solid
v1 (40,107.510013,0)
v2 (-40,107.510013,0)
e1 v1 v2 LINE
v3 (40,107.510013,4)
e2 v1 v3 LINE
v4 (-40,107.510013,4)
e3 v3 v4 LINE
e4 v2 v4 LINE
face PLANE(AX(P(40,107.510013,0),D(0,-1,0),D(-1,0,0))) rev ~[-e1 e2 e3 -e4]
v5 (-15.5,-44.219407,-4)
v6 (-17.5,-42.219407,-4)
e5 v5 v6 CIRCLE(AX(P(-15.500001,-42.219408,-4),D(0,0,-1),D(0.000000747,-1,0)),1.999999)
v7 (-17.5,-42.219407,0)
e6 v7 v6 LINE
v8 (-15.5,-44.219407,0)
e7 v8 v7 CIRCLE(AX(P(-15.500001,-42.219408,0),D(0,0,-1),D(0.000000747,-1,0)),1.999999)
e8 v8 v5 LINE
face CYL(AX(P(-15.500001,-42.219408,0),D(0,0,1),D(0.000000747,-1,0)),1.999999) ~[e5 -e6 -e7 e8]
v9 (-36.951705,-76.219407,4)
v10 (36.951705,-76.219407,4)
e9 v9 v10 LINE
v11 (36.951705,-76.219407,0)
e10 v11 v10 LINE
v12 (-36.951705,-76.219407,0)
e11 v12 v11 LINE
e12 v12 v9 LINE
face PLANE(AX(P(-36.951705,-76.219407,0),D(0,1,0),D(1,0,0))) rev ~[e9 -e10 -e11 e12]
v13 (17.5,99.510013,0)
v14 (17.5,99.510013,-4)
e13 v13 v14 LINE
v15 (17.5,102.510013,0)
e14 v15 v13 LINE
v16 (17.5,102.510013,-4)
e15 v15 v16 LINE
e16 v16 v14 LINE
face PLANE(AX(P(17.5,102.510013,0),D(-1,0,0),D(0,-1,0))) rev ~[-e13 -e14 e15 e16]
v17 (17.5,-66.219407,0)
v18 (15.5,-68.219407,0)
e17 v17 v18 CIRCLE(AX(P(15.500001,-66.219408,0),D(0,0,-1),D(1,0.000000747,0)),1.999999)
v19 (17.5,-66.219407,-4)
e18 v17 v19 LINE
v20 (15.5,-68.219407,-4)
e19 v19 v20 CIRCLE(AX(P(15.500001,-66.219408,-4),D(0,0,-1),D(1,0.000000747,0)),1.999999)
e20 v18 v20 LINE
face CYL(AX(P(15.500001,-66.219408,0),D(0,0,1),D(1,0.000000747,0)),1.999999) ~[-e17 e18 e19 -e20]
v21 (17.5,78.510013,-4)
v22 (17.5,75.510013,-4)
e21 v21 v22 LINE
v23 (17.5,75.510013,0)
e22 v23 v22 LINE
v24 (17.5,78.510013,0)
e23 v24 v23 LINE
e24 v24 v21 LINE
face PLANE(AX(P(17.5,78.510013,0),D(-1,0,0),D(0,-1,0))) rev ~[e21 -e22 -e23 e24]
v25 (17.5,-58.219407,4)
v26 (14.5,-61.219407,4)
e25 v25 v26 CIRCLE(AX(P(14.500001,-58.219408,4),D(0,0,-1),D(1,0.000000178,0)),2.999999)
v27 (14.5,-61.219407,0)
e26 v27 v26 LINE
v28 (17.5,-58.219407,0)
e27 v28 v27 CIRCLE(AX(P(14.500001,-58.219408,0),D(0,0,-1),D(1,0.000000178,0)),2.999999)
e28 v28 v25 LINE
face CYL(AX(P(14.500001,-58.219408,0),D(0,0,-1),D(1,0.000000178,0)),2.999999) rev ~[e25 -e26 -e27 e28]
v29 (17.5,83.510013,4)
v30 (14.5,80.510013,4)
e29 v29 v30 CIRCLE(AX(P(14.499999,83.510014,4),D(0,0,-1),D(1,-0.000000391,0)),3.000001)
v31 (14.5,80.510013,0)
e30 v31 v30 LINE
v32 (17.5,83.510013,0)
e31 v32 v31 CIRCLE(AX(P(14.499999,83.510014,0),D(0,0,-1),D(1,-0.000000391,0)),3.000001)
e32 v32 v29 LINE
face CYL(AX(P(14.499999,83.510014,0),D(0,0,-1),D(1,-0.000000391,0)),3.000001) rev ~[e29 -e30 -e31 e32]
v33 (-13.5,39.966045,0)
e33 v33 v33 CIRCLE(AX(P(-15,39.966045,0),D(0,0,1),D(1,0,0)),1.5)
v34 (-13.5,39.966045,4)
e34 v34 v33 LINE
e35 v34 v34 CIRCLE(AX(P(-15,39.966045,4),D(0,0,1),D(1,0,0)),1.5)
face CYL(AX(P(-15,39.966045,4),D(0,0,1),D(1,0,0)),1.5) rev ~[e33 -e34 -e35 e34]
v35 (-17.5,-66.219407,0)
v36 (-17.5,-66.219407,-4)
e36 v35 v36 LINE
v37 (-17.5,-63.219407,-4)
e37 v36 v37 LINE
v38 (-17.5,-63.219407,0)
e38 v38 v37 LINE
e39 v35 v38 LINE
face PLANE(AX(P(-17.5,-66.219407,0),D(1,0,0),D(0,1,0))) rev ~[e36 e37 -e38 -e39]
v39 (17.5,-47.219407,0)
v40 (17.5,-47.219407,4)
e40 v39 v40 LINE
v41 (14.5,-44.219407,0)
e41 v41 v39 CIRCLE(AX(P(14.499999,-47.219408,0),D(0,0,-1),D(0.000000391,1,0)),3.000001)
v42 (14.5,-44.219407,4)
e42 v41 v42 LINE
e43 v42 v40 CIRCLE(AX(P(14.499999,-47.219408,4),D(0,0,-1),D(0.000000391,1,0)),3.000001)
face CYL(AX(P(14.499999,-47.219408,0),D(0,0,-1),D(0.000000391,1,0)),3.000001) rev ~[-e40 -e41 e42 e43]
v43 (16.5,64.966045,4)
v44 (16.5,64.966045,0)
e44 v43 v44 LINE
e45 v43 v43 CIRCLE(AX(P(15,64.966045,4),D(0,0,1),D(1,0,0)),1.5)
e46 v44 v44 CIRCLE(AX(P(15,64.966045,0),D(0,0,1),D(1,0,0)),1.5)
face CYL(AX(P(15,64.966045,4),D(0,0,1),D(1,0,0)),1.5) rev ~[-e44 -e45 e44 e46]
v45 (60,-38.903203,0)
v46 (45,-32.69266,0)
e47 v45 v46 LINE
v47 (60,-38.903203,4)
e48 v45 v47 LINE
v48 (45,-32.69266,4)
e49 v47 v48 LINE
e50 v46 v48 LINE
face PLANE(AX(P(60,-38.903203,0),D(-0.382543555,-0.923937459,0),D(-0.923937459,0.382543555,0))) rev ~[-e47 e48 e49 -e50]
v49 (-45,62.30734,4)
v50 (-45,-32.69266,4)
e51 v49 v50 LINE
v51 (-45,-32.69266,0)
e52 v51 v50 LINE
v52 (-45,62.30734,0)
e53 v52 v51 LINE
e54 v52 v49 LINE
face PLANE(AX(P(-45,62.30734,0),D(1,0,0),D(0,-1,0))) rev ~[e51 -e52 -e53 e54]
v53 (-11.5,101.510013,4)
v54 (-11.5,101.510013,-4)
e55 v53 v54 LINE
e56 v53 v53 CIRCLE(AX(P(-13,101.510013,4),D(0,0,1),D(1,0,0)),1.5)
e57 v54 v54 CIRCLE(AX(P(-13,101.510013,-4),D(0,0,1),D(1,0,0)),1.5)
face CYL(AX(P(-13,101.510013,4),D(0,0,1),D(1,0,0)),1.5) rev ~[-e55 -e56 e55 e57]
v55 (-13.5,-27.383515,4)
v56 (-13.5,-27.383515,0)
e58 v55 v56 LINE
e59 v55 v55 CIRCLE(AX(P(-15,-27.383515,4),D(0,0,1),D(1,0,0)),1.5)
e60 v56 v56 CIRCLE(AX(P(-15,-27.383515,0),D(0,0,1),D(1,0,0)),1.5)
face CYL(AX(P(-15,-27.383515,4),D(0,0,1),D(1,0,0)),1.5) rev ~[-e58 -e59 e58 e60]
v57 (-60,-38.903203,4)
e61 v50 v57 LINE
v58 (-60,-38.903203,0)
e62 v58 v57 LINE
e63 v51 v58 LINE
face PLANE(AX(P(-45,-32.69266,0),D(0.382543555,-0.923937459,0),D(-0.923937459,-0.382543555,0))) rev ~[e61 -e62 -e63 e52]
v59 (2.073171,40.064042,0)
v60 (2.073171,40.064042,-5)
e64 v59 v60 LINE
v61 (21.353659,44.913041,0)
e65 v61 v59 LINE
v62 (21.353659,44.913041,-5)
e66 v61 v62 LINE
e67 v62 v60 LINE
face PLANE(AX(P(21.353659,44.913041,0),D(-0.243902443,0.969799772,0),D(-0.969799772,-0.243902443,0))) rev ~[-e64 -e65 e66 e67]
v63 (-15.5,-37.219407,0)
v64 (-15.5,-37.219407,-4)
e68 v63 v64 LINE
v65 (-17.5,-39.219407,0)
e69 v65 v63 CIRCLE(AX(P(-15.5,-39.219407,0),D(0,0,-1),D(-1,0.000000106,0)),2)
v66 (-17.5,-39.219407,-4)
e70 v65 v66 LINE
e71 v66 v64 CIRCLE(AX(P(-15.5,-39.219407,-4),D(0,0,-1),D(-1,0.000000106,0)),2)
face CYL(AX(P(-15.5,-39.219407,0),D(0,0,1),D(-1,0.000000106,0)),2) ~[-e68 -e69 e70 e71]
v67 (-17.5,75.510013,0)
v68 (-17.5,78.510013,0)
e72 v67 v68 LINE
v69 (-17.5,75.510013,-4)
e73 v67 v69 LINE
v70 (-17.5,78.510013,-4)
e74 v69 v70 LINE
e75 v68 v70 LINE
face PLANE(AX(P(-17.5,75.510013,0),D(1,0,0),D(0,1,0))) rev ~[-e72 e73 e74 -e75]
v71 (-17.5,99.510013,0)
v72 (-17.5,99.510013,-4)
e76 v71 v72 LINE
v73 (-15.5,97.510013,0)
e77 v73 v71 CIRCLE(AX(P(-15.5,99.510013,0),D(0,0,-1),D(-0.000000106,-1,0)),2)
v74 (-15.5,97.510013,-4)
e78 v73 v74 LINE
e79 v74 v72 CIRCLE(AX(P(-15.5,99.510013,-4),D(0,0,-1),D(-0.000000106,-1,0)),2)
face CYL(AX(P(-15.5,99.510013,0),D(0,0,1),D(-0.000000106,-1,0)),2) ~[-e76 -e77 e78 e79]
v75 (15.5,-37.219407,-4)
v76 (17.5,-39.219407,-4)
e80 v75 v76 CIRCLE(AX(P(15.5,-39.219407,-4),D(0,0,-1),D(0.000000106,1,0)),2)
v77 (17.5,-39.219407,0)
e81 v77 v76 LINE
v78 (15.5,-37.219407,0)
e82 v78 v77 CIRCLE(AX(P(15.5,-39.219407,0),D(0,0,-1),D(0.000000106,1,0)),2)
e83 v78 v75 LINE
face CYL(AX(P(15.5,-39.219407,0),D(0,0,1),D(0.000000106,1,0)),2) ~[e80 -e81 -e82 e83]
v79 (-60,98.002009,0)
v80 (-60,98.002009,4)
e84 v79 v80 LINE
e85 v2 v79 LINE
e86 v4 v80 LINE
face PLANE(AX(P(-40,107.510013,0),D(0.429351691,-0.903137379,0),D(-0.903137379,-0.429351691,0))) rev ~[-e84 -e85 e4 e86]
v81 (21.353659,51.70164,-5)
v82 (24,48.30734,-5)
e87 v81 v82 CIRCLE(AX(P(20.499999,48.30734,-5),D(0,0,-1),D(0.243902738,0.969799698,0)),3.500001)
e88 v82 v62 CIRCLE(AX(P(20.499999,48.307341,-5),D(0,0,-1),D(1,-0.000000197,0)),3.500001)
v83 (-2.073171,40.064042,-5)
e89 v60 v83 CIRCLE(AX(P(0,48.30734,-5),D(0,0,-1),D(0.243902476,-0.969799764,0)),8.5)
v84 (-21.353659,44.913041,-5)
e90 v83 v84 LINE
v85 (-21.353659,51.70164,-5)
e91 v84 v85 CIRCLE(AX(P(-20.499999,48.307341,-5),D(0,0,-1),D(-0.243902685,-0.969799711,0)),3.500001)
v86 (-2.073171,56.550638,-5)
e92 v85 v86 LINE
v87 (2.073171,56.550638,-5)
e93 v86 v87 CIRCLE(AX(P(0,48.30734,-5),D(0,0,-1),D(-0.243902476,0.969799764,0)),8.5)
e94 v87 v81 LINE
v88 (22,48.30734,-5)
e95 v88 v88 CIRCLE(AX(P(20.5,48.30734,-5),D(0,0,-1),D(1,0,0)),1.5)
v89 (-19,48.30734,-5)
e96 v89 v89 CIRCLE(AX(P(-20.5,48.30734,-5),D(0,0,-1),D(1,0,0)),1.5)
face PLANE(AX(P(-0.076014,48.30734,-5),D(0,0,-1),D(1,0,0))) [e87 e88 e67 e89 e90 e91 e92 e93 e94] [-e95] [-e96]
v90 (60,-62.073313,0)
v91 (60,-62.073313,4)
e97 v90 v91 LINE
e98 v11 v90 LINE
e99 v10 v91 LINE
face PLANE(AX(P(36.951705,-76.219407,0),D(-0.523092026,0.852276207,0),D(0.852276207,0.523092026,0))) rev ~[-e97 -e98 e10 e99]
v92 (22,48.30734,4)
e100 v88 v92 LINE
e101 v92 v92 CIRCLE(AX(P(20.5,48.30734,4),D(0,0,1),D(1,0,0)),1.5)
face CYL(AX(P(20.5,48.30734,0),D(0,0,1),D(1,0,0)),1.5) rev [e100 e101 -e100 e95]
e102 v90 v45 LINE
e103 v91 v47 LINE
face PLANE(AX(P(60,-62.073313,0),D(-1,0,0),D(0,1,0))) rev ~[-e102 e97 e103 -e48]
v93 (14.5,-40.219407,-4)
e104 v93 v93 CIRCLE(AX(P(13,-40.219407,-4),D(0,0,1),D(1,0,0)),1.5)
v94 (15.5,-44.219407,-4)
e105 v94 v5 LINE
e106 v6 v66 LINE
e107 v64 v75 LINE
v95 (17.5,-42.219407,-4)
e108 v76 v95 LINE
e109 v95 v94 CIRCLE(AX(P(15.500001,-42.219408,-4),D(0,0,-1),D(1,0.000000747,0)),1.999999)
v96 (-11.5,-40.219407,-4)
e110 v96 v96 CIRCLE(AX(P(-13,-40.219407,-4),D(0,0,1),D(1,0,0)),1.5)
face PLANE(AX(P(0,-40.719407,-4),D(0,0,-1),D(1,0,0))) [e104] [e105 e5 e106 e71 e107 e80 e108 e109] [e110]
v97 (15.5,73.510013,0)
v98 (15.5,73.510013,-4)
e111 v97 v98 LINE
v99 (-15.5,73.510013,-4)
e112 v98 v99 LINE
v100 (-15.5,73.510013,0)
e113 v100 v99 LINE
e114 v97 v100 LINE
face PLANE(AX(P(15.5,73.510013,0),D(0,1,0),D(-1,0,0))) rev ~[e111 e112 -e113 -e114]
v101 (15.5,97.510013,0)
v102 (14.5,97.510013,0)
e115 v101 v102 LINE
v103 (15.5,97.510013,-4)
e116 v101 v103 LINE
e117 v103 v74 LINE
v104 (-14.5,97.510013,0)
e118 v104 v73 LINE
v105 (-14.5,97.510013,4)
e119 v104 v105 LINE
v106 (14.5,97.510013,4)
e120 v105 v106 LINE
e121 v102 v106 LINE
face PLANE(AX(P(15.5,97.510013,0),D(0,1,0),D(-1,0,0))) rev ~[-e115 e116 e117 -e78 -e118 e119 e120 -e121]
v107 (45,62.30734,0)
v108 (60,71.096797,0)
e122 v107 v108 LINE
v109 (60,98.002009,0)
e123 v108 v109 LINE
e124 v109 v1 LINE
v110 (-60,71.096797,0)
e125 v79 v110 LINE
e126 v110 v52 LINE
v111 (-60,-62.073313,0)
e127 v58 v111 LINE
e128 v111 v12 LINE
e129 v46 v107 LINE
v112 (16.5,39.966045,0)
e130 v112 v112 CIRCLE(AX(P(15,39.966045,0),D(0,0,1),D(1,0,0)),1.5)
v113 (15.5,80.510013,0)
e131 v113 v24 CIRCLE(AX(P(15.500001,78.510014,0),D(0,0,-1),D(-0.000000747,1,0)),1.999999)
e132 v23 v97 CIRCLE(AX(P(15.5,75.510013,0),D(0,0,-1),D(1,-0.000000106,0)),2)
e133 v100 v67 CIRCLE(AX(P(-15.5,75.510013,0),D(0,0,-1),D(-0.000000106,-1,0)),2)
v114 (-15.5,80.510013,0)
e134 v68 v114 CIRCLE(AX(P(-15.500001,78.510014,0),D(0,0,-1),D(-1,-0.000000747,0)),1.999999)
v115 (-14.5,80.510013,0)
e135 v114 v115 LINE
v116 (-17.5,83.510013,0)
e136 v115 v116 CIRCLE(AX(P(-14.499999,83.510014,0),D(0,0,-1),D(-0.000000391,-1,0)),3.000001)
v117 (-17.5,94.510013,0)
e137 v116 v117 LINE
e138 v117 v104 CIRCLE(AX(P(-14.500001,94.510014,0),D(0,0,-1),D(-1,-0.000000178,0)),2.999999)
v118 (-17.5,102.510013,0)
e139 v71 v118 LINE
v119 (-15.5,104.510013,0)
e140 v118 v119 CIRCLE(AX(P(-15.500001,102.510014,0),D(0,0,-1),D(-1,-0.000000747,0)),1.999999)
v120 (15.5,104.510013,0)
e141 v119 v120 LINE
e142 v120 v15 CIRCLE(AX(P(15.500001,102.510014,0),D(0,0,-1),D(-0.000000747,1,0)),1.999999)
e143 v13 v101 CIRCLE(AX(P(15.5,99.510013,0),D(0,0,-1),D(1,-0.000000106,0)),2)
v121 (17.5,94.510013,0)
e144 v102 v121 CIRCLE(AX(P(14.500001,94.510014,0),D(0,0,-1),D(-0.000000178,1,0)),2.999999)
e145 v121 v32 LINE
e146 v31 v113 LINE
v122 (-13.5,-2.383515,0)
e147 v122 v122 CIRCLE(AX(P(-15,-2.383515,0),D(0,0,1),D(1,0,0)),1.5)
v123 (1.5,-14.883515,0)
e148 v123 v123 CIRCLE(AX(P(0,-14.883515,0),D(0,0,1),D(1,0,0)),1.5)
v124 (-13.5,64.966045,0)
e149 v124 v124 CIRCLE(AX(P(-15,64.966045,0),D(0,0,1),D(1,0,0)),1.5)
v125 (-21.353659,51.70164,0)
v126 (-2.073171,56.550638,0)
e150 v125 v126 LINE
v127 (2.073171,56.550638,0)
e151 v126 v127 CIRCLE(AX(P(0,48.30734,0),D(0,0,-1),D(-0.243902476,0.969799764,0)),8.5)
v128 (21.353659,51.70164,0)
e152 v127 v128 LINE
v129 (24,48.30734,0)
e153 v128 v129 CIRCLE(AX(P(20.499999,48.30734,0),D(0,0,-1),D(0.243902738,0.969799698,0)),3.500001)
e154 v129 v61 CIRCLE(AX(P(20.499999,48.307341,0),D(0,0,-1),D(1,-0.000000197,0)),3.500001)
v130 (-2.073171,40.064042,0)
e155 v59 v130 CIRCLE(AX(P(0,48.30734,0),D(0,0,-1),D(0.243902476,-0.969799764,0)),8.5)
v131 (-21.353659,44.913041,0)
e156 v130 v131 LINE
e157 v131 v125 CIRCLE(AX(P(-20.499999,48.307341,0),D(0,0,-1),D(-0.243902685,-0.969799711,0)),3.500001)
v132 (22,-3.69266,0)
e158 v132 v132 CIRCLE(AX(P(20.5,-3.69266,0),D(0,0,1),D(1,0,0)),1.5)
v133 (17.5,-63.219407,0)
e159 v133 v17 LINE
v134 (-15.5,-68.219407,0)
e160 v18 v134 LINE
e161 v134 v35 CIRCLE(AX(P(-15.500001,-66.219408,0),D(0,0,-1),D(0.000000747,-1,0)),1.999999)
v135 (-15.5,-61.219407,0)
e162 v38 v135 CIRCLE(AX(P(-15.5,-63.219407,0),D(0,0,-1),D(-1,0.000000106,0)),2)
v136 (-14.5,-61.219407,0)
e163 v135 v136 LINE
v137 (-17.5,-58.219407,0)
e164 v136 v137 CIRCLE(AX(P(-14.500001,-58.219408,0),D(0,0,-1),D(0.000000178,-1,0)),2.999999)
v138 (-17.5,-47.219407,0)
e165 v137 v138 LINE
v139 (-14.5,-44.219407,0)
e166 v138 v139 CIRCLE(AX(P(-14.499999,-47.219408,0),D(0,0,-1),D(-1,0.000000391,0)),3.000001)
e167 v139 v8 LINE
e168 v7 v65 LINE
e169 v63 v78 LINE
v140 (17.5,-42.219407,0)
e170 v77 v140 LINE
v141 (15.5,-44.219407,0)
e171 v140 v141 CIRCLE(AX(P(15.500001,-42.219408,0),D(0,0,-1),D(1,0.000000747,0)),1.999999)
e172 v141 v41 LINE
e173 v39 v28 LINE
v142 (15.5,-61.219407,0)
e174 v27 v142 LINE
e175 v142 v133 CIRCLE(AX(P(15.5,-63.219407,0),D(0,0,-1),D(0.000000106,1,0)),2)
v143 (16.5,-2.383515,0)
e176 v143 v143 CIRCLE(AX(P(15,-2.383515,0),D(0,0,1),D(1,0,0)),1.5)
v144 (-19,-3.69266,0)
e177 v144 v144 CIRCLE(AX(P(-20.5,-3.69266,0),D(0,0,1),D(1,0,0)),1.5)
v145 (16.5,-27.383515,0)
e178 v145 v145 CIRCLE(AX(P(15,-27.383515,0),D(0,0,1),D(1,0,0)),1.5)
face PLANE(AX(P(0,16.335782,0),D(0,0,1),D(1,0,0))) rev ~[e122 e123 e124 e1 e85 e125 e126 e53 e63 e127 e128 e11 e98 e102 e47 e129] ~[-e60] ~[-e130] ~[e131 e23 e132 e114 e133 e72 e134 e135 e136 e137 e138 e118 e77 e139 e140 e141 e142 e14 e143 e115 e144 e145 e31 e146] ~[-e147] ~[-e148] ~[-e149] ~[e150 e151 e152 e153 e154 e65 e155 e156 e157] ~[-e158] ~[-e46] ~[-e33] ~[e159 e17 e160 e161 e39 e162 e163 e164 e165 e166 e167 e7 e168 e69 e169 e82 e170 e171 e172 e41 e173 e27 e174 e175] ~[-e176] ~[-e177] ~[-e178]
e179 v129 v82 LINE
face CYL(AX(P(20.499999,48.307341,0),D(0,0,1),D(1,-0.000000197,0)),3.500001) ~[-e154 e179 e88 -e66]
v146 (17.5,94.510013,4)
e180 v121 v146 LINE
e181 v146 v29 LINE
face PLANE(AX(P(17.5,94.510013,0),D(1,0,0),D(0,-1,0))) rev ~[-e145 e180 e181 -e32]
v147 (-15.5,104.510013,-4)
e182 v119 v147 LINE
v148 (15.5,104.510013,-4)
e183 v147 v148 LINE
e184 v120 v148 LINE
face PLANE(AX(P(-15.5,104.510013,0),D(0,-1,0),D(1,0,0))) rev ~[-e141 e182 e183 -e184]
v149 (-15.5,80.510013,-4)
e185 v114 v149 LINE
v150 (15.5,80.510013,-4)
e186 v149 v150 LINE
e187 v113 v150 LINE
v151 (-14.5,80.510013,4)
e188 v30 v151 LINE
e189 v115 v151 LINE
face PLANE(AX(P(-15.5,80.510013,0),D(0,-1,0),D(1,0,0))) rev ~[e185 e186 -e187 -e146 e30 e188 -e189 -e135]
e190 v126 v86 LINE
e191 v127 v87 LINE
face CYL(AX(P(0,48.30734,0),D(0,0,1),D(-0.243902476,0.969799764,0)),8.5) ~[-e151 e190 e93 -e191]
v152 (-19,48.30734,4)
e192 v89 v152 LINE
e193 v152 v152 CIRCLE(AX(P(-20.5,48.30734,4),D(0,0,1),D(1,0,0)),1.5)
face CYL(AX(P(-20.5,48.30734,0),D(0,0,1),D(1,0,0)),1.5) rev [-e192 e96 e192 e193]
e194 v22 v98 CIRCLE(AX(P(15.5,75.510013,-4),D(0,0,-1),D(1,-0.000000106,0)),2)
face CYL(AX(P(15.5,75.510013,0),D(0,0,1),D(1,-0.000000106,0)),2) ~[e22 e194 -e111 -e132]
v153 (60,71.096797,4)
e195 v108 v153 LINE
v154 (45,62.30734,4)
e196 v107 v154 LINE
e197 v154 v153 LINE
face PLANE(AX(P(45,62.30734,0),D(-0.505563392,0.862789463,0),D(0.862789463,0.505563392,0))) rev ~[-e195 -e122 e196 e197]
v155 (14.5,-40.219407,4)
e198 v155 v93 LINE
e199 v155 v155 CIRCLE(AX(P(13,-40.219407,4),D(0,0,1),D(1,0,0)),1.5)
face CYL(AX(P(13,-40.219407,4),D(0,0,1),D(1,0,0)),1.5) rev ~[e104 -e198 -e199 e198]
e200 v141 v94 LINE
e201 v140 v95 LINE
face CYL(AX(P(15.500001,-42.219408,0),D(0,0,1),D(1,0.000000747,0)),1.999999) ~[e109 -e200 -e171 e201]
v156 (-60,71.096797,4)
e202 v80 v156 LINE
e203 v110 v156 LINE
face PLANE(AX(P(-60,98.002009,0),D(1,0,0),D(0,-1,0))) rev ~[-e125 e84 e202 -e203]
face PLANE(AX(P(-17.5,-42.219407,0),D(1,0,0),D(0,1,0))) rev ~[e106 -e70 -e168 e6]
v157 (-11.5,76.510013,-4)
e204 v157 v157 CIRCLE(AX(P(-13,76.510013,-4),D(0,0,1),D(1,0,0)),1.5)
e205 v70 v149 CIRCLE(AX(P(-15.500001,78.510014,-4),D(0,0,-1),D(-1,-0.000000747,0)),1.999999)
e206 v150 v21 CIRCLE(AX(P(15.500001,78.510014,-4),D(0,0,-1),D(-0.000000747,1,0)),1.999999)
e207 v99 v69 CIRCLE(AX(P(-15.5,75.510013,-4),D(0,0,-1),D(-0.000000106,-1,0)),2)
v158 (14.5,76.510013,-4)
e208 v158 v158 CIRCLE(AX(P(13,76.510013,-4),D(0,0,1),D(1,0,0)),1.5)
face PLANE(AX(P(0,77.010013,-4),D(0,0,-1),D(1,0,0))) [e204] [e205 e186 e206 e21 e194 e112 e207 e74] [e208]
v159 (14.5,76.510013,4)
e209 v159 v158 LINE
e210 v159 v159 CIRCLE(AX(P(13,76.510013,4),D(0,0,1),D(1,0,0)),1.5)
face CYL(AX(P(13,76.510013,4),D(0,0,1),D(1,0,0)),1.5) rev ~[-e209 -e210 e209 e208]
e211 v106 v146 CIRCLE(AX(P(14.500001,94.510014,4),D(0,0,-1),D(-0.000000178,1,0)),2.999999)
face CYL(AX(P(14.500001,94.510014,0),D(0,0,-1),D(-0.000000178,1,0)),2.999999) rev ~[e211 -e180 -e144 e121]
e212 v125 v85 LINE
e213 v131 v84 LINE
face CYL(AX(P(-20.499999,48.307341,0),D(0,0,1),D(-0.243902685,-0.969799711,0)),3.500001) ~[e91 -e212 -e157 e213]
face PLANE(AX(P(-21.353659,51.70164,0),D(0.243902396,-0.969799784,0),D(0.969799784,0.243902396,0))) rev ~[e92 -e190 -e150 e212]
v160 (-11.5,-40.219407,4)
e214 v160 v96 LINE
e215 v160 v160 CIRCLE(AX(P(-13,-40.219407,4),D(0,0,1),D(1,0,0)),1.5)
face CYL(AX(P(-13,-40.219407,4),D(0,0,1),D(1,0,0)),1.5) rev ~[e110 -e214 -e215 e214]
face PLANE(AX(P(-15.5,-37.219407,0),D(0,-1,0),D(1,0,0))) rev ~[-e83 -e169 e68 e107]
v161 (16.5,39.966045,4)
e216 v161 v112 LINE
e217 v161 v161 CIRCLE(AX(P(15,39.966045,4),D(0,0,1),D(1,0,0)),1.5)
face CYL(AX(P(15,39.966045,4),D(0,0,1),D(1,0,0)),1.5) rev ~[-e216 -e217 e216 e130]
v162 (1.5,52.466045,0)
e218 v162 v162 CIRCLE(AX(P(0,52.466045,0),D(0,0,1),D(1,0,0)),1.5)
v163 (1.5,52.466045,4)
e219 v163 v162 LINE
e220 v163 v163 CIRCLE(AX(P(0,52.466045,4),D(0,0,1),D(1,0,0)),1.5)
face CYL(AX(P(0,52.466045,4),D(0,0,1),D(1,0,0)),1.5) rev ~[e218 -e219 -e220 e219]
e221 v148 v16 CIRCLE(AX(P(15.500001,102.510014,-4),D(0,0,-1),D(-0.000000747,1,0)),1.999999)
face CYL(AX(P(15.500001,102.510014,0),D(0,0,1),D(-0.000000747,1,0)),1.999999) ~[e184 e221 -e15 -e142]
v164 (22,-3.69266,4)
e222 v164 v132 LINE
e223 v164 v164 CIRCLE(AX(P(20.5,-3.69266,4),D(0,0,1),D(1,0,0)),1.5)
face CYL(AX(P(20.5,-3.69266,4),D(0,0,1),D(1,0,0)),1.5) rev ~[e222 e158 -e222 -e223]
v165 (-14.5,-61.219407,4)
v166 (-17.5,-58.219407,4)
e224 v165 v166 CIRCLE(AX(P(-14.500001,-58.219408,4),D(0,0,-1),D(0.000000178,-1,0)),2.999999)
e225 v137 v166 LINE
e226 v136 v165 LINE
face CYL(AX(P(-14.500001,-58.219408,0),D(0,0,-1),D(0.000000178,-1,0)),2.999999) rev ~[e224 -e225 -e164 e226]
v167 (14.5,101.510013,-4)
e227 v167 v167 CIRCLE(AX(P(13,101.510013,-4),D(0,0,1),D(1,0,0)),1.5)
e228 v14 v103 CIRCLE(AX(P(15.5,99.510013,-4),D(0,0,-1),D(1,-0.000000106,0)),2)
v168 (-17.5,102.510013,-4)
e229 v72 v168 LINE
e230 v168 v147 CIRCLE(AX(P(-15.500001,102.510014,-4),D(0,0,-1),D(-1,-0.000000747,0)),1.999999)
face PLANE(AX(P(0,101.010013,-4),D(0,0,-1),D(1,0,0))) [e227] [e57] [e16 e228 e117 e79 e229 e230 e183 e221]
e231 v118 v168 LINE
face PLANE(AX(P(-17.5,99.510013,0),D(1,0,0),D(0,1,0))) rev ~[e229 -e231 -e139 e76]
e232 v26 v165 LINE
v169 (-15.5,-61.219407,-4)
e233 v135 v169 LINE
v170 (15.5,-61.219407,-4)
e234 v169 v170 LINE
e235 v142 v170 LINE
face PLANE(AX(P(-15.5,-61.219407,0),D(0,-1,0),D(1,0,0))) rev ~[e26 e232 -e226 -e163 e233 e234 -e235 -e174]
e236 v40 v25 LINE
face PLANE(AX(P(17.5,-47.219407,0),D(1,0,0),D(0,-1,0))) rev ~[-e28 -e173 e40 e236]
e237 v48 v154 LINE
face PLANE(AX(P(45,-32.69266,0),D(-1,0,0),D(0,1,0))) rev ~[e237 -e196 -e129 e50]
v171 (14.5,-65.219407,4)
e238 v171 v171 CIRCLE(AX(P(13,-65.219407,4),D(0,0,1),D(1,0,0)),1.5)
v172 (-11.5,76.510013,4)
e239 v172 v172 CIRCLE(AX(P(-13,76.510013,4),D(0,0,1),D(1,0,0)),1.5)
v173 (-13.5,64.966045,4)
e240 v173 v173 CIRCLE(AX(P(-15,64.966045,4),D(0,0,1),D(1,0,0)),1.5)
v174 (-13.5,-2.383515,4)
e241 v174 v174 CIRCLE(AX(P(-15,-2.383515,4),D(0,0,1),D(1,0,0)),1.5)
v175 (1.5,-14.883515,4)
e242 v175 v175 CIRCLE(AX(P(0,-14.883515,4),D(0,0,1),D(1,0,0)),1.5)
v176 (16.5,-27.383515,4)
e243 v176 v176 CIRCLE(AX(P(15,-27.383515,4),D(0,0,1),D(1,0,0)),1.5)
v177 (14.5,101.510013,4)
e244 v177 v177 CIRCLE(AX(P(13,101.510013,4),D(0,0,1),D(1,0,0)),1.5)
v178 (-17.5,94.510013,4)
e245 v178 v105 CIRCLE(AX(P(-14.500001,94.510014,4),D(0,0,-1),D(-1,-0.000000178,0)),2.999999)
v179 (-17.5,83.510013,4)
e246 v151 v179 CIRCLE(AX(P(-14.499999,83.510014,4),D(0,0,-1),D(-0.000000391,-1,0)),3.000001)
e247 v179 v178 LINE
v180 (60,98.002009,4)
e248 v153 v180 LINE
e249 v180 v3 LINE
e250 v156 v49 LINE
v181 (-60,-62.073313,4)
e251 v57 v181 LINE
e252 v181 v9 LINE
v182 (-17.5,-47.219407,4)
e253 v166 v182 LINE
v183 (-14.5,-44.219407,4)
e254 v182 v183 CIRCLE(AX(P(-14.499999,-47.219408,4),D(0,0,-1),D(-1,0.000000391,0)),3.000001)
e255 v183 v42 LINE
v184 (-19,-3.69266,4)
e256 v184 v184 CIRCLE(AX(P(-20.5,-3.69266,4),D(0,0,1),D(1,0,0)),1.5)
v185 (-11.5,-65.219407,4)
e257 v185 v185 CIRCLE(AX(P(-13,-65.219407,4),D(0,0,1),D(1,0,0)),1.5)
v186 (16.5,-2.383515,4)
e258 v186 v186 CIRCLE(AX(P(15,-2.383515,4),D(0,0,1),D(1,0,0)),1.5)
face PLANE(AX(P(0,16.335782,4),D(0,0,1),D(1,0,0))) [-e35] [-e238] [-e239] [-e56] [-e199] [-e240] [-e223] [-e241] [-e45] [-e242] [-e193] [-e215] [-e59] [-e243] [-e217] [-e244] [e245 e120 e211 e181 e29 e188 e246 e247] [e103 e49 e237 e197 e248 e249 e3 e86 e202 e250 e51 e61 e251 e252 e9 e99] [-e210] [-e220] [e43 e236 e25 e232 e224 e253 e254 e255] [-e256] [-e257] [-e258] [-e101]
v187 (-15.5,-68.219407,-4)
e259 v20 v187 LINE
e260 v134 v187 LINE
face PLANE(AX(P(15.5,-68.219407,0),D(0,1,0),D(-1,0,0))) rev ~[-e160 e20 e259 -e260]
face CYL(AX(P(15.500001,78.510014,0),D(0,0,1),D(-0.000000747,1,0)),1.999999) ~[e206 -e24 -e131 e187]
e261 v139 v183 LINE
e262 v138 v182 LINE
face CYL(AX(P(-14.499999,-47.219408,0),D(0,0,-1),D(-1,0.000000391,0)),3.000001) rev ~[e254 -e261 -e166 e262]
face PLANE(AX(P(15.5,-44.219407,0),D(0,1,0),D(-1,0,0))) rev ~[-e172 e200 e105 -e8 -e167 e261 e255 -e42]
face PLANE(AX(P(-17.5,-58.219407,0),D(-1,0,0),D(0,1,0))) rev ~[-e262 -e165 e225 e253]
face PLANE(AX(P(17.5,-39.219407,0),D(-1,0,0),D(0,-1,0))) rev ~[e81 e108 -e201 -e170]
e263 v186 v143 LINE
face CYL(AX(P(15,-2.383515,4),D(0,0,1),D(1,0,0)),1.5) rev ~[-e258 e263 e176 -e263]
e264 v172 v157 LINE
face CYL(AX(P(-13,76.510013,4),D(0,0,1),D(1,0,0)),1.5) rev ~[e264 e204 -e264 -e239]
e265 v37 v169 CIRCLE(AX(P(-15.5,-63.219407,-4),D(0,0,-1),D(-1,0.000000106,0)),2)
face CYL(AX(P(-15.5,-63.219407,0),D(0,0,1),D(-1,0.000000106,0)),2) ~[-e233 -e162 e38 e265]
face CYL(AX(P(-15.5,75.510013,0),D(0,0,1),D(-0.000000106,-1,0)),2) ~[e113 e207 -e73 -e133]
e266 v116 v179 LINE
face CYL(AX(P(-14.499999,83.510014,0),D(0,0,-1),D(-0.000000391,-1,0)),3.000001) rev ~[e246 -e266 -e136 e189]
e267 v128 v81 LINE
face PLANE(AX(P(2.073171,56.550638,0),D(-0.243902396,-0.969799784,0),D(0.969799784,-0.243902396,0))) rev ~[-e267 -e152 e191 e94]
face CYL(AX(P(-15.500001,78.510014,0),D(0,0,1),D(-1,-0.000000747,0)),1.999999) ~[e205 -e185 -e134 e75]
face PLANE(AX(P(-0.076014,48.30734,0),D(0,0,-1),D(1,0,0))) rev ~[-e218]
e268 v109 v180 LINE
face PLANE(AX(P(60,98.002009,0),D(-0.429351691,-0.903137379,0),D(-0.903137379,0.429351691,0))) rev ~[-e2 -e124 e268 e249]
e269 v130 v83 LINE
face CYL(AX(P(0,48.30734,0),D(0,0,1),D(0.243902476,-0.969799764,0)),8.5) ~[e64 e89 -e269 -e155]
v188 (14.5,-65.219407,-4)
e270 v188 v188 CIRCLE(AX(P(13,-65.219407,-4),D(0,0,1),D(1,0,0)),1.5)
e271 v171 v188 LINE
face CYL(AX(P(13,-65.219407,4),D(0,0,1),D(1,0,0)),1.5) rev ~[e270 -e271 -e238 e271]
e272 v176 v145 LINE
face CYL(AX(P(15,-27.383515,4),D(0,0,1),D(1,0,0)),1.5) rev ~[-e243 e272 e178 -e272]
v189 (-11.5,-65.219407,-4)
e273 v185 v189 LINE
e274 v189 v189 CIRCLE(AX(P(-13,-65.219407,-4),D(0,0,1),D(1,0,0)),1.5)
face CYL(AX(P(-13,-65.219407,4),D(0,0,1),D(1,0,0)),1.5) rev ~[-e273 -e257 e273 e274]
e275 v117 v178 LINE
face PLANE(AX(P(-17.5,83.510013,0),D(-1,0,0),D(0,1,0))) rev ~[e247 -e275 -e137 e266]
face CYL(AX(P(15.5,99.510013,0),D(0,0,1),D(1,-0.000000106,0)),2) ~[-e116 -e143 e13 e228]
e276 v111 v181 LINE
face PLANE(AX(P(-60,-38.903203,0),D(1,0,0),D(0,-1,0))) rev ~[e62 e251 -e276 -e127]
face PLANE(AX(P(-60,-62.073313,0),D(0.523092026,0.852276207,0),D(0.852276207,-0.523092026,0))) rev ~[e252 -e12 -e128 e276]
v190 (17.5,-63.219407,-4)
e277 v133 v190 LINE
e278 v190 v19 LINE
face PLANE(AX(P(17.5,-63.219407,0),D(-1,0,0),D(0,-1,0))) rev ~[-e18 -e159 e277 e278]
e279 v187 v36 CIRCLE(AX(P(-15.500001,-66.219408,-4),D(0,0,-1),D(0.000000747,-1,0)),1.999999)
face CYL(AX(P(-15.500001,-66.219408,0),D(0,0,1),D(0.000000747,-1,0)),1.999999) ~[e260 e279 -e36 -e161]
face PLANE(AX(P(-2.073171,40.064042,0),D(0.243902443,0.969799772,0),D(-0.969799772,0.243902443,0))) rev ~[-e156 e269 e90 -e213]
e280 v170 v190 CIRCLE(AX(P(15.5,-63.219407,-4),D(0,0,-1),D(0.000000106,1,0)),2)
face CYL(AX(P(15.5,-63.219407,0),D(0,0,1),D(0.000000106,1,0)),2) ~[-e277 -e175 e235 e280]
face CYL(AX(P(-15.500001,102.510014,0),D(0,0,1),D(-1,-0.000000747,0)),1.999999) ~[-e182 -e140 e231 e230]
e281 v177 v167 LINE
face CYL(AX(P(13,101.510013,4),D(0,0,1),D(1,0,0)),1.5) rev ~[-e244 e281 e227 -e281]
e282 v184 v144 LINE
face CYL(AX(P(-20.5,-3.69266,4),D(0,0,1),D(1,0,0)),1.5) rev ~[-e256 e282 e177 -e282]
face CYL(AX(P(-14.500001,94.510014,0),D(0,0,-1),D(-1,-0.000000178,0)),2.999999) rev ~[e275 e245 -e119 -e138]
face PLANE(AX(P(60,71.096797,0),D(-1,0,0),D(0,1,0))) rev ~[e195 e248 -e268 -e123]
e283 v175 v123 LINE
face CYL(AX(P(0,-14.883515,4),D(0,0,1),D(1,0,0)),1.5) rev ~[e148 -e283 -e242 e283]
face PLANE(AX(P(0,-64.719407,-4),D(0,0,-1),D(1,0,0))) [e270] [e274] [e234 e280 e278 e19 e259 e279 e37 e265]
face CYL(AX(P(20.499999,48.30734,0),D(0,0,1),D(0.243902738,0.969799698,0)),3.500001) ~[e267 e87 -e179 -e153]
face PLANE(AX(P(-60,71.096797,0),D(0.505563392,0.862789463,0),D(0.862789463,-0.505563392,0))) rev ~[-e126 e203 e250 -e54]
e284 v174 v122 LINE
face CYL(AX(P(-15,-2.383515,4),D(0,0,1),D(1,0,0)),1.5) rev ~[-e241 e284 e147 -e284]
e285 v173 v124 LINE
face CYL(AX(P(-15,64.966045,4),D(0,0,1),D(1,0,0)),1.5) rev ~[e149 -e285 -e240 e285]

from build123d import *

# Parameters (mm, degrees)
F1_DEPTH  = 4
F3_DEPTH  = 4
F4_R      = 1.5
F5_DEPTH  = 25
F6_R      = 1.5
F7_DEPTH  = 25
F8_R      = 1.5
F9_DEPTH  = 25
F10_R     = 1.5
F11_DEPTH = 5


with BuildPart() as f1:
    # F0 (on Top) → F1 (new body)
    with BuildSketch(Plane.XY):
        Polygon((40, 107.510013), (0, 107.510013), (-40, 107.510013), (-60, 98.002009), (-60, 71.096797), (-45, 62.30734), (-45, -32.69266), (-60, -38.903203), (-60, -62.073313), (-36.951705, -76.219407), (0, -76.219407), (36.951705, -76.219407), (60, -62.073313), (60, -38.903203), (45, -32.69266), (45, 62.30734), (60, 71.096797), (60, 98.002009), align=None)
        with BuildLine():
            Line((-14.5, -44.219407), (0, -44.219407))
            Line((0, -44.219407), (14.5, -44.219407))
            ThreePointArc((14.5, -44.219407), (16.62132, -45.098087), (17.5, -47.219407))
            Line((17.5, -47.219407), (17.5, -58.219407))
            ThreePointArc((17.5, -58.219407), (16.62132, -60.340728), (14.5, -61.219407))
            Line((14.5, -61.219407), (0, -61.219407))
            Line((0, -61.219407), (-14.5, -61.219407))
            ThreePointArc((-14.5, -61.219407), (-16.62132, -60.340728), (-17.5, -58.219407))
            Line((-17.5, -58.219407), (-17.5, -47.219407))
            ThreePointArc((-17.5, -47.219407), (-16.62132, -45.098087), (-14.5, -44.219407))
        make_face(mode=Mode.SUBTRACT)
        with BuildLine():
            Line((-14.5, 97.510013), (0, 97.510013))
            Line((0, 97.510013), (14.5, 97.510013))
            ThreePointArc((14.5, 97.510013), (16.62132, 96.631334), (17.5, 94.510013))
            Line((17.5, 94.510013), (17.5, 83.510013))
            ThreePointArc((17.5, 83.510013), (16.62132, 81.388693), (14.5, 80.510013))
            Line((14.5, 80.510013), (0, 80.510013))
            Line((0, 80.510013), (-14.5, 80.510013))
            ThreePointArc((-14.5, 80.510013), (-16.62132, 81.388693), (-17.5, 83.510013))
            Line((-17.5, 83.510013), (-17.5, 94.510013))
            ThreePointArc((-17.5, 94.510013), (-16.62132, 96.631334), (-14.5, 97.510013))
        make_face(mode=Mode.SUBTRACT)
    extrude(amount=F1_DEPTH)

    # F2 (on face) → F3 (join)
    with BuildSketch(Plane(origin=(0, 0, 0), x_dir=(1, 0, 0), z_dir=(0, 0, -1))):
        with BuildLine():
            Line((15.5, 68.219407), (-15.5, 68.219407))
            ThreePointArc((-15.5, 68.219407), (-16.914214, 67.633621), (-17.5, 66.219407))
            Line((-17.5, 66.219407), (-17.5, 63.219407))
            ThreePointArc((-17.5, 63.219407), (-16.914214, 61.805194), (-15.5, 61.219407))
            Line((-15.5, 61.219407), (15.5, 61.219407))
            ThreePointArc((15.5, 61.219407), (16.914214, 61.805194), (17.5, 63.219407))
            Line((17.5, 63.219407), (17.5, 66.219407))
            ThreePointArc((17.5, 66.219407), (16.914214, 67.633621), (15.5, 68.219407))
        make_face()
        with BuildLine():
            Line((15.5, 44.219407), (-15.5, 44.219407))
            ThreePointArc((-15.5, 44.219407), (-16.914214, 43.633621), (-17.5, 42.219407))
            Line((-17.5, 42.219407), (-17.5, 39.219407))
            ThreePointArc((-17.5, 39.219407), (-16.914214, 37.805194), (-15.5, 37.219407))
            Line((-15.5, 37.219407), (15.5, 37.219407))
            ThreePointArc((15.5, 37.219407), (16.914214, 37.805194), (17.5, 39.219407))
            Line((17.5, 39.219407), (17.5, 42.219407))
            ThreePointArc((17.5, 42.219407), (16.914214, 43.633621), (15.5, 44.219407))
        make_face()
        with BuildLine():
            Line((15.5, -73.510013), (-15.5, -73.510013))
            ThreePointArc((-15.5, -73.510013), (-16.914214, -74.0958), (-17.5, -75.510013))
            Line((-17.5, -75.510013), (-17.5, -78.510013))
            ThreePointArc((-17.5, -78.510013), (-16.914214, -79.924227), (-15.5, -80.510013))
            Line((-15.5, -80.510013), (15.5, -80.510013))
            ThreePointArc((15.5, -80.510013), (16.914214, -79.924227), (17.5, -78.510013))
            Line((17.5, -78.510013), (17.5, -75.510013))
            ThreePointArc((17.5, -75.510013), (16.914214, -74.0958), (15.5, -73.510013))
        make_face()
        with BuildLine():
            Line((15.5, -97.510013), (-15.5, -97.510013))
            ThreePointArc((-15.5, -97.510013), (-16.914214, -98.0958), (-17.5, -99.510013))
            Line((-17.5, -99.510013), (-17.5, -102.510013))
            ThreePointArc((-17.5, -102.510013), (-16.914214, -103.924227), (-15.5, -104.510013))
            Line((-15.5, -104.510013), (15.5, -104.510013))
            ThreePointArc((15.5, -104.510013), (16.914214, -103.924227), (17.5, -102.510013))
            Line((17.5, -102.510013), (17.5, -99.510013))
            ThreePointArc((17.5, -99.510013), (16.914214, -98.0958), (15.5, -97.510013))
        make_face()
    extrude(amount=F3_DEPTH)

    # F4 (on face) → F5 (cut)
    with BuildSketch(Plane.XY.offset(4)):
        with Locations((-20.5, 48.30734)):
            Circle(F4_R)
        with Locations((-20.5, -3.69266)):
            Circle(F4_R)
        with Locations((20.5, 48.30734)):
            Circle(F4_R)
        with Locations((20.5, -3.69266)):
            Circle(F4_R)
    extrude(amount=-F5_DEPTH, mode=Mode.SUBTRACT)

    # F6 (on face) → F7 (cut)
    with BuildSketch(Plane.XY.offset(4)):
        with Locations((-13, -40.219407)):
            Circle(F6_R)
        with Locations((-13, -65.219407)):
            Circle(F6_R)
        with Locations((13, -40.219407)):
            Circle(F6_R)
        with Locations((13, -65.219407)):
            Circle(F6_R)
        with Locations((-13, 101.510013)):
            Circle(F6_R)
        with Locations((-13, 76.510013)):
            Circle(F6_R)
        with Locations((13, 101.510013)):
            Circle(F6_R)
        with Locations((13, 76.510013)):
            Circle(F6_R)
    extrude(amount=-F7_DEPTH, mode=Mode.SUBTRACT)

    # F8 (on face) → F9 (cut)
    with BuildSketch(Plane.XY.offset(4)):
        with Locations((-15, -2.383515)):
            Circle(F8_R)
        with Locations((-15, -27.383515)):
            Circle(F8_R)
        with Locations((15, -2.383515)):
            Circle(F8_R)
        with Locations((15, -27.383515)):
            Circle(F8_R)
        with Locations((-15, 64.966045)):
            Circle(F8_R)
        with Locations((-15, 39.966045)):
            Circle(F8_R)
        with Locations((15, 64.966045)):
            Circle(F8_R)
        with Locations((15, 39.966045)):
            Circle(F8_R)
        with Locations((0, 52.466045)):
            Circle(F8_R)
        with Locations((0, -14.883515)):
            Circle(F8_R)
    extrude(amount=-F9_DEPTH, mode=Mode.SUBTRACT)

    # F10 (on face) → F11 (join)
    with BuildSketch(Plane(origin=(0, 0, 0), x_dir=(1, 0, 0), z_dir=(0, 0, -1))):
        with BuildLine():
            Line((21.353659, -44.913041), (2.073171, -40.064042))
            ThreePointArc((2.073171, -40.064042), (0, -39.80734), (-2.073171, -40.064042))
            Line((-2.073171, -40.064042), (-21.353659, -44.913041))
            ThreePointArc((-21.353659, -44.913041), (-18.348001, -45.547104), (-17, -48.30734))
            ThreePointArc((-17, -48.30734), (-18.348001, -51.067576), (-21.353659, -51.70164))
            Line((-21.353659, -51.70164), (-2.073171, -56.550638))
            ThreePointArc((-2.073171, -56.550638), (0, -56.80734), (2.073171, -56.550638))
            Line((2.073171, -56.550638), (21.353659, -51.70164))
            ThreePointArc((21.353659, -51.70164), (17, -48.30734), (21.353659, -44.913041))
        make_face()
        with BuildLine():
            ThreePointArc((24, -48.30734), (23.260236, -46.155342), (21.353659, -44.913041))
            ThreePointArc((21.353659, -44.913041), (17, -48.30734), (21.353659, -51.70164))
            ThreePointArc((21.353659, -51.70164), (23.260236, -50.459339), (24, -48.30734))
        make_face()
        with Locations((20.5, -48.30734)):
            Circle(F10_R, mode=Mode.SUBTRACT)
        with BuildLine():
            ThreePointArc((-17, -48.30734), (-18.348001, -45.547104), (-21.353659, -44.913041))
            ThreePointArc((-21.353659, -44.913041), (-24, -48.30734), (-21.353659, -51.70164))
            ThreePointArc((-21.353659, -51.70164), (-18.348001, -51.067576), (-17, -48.30734))
        make_face()
        with Locations((-20.5, -48.30734)):
            Circle(F10_R, mode=Mode.SUBTRACT)
    extrude(amount=F11_DEPTH)


solid = f1.part
